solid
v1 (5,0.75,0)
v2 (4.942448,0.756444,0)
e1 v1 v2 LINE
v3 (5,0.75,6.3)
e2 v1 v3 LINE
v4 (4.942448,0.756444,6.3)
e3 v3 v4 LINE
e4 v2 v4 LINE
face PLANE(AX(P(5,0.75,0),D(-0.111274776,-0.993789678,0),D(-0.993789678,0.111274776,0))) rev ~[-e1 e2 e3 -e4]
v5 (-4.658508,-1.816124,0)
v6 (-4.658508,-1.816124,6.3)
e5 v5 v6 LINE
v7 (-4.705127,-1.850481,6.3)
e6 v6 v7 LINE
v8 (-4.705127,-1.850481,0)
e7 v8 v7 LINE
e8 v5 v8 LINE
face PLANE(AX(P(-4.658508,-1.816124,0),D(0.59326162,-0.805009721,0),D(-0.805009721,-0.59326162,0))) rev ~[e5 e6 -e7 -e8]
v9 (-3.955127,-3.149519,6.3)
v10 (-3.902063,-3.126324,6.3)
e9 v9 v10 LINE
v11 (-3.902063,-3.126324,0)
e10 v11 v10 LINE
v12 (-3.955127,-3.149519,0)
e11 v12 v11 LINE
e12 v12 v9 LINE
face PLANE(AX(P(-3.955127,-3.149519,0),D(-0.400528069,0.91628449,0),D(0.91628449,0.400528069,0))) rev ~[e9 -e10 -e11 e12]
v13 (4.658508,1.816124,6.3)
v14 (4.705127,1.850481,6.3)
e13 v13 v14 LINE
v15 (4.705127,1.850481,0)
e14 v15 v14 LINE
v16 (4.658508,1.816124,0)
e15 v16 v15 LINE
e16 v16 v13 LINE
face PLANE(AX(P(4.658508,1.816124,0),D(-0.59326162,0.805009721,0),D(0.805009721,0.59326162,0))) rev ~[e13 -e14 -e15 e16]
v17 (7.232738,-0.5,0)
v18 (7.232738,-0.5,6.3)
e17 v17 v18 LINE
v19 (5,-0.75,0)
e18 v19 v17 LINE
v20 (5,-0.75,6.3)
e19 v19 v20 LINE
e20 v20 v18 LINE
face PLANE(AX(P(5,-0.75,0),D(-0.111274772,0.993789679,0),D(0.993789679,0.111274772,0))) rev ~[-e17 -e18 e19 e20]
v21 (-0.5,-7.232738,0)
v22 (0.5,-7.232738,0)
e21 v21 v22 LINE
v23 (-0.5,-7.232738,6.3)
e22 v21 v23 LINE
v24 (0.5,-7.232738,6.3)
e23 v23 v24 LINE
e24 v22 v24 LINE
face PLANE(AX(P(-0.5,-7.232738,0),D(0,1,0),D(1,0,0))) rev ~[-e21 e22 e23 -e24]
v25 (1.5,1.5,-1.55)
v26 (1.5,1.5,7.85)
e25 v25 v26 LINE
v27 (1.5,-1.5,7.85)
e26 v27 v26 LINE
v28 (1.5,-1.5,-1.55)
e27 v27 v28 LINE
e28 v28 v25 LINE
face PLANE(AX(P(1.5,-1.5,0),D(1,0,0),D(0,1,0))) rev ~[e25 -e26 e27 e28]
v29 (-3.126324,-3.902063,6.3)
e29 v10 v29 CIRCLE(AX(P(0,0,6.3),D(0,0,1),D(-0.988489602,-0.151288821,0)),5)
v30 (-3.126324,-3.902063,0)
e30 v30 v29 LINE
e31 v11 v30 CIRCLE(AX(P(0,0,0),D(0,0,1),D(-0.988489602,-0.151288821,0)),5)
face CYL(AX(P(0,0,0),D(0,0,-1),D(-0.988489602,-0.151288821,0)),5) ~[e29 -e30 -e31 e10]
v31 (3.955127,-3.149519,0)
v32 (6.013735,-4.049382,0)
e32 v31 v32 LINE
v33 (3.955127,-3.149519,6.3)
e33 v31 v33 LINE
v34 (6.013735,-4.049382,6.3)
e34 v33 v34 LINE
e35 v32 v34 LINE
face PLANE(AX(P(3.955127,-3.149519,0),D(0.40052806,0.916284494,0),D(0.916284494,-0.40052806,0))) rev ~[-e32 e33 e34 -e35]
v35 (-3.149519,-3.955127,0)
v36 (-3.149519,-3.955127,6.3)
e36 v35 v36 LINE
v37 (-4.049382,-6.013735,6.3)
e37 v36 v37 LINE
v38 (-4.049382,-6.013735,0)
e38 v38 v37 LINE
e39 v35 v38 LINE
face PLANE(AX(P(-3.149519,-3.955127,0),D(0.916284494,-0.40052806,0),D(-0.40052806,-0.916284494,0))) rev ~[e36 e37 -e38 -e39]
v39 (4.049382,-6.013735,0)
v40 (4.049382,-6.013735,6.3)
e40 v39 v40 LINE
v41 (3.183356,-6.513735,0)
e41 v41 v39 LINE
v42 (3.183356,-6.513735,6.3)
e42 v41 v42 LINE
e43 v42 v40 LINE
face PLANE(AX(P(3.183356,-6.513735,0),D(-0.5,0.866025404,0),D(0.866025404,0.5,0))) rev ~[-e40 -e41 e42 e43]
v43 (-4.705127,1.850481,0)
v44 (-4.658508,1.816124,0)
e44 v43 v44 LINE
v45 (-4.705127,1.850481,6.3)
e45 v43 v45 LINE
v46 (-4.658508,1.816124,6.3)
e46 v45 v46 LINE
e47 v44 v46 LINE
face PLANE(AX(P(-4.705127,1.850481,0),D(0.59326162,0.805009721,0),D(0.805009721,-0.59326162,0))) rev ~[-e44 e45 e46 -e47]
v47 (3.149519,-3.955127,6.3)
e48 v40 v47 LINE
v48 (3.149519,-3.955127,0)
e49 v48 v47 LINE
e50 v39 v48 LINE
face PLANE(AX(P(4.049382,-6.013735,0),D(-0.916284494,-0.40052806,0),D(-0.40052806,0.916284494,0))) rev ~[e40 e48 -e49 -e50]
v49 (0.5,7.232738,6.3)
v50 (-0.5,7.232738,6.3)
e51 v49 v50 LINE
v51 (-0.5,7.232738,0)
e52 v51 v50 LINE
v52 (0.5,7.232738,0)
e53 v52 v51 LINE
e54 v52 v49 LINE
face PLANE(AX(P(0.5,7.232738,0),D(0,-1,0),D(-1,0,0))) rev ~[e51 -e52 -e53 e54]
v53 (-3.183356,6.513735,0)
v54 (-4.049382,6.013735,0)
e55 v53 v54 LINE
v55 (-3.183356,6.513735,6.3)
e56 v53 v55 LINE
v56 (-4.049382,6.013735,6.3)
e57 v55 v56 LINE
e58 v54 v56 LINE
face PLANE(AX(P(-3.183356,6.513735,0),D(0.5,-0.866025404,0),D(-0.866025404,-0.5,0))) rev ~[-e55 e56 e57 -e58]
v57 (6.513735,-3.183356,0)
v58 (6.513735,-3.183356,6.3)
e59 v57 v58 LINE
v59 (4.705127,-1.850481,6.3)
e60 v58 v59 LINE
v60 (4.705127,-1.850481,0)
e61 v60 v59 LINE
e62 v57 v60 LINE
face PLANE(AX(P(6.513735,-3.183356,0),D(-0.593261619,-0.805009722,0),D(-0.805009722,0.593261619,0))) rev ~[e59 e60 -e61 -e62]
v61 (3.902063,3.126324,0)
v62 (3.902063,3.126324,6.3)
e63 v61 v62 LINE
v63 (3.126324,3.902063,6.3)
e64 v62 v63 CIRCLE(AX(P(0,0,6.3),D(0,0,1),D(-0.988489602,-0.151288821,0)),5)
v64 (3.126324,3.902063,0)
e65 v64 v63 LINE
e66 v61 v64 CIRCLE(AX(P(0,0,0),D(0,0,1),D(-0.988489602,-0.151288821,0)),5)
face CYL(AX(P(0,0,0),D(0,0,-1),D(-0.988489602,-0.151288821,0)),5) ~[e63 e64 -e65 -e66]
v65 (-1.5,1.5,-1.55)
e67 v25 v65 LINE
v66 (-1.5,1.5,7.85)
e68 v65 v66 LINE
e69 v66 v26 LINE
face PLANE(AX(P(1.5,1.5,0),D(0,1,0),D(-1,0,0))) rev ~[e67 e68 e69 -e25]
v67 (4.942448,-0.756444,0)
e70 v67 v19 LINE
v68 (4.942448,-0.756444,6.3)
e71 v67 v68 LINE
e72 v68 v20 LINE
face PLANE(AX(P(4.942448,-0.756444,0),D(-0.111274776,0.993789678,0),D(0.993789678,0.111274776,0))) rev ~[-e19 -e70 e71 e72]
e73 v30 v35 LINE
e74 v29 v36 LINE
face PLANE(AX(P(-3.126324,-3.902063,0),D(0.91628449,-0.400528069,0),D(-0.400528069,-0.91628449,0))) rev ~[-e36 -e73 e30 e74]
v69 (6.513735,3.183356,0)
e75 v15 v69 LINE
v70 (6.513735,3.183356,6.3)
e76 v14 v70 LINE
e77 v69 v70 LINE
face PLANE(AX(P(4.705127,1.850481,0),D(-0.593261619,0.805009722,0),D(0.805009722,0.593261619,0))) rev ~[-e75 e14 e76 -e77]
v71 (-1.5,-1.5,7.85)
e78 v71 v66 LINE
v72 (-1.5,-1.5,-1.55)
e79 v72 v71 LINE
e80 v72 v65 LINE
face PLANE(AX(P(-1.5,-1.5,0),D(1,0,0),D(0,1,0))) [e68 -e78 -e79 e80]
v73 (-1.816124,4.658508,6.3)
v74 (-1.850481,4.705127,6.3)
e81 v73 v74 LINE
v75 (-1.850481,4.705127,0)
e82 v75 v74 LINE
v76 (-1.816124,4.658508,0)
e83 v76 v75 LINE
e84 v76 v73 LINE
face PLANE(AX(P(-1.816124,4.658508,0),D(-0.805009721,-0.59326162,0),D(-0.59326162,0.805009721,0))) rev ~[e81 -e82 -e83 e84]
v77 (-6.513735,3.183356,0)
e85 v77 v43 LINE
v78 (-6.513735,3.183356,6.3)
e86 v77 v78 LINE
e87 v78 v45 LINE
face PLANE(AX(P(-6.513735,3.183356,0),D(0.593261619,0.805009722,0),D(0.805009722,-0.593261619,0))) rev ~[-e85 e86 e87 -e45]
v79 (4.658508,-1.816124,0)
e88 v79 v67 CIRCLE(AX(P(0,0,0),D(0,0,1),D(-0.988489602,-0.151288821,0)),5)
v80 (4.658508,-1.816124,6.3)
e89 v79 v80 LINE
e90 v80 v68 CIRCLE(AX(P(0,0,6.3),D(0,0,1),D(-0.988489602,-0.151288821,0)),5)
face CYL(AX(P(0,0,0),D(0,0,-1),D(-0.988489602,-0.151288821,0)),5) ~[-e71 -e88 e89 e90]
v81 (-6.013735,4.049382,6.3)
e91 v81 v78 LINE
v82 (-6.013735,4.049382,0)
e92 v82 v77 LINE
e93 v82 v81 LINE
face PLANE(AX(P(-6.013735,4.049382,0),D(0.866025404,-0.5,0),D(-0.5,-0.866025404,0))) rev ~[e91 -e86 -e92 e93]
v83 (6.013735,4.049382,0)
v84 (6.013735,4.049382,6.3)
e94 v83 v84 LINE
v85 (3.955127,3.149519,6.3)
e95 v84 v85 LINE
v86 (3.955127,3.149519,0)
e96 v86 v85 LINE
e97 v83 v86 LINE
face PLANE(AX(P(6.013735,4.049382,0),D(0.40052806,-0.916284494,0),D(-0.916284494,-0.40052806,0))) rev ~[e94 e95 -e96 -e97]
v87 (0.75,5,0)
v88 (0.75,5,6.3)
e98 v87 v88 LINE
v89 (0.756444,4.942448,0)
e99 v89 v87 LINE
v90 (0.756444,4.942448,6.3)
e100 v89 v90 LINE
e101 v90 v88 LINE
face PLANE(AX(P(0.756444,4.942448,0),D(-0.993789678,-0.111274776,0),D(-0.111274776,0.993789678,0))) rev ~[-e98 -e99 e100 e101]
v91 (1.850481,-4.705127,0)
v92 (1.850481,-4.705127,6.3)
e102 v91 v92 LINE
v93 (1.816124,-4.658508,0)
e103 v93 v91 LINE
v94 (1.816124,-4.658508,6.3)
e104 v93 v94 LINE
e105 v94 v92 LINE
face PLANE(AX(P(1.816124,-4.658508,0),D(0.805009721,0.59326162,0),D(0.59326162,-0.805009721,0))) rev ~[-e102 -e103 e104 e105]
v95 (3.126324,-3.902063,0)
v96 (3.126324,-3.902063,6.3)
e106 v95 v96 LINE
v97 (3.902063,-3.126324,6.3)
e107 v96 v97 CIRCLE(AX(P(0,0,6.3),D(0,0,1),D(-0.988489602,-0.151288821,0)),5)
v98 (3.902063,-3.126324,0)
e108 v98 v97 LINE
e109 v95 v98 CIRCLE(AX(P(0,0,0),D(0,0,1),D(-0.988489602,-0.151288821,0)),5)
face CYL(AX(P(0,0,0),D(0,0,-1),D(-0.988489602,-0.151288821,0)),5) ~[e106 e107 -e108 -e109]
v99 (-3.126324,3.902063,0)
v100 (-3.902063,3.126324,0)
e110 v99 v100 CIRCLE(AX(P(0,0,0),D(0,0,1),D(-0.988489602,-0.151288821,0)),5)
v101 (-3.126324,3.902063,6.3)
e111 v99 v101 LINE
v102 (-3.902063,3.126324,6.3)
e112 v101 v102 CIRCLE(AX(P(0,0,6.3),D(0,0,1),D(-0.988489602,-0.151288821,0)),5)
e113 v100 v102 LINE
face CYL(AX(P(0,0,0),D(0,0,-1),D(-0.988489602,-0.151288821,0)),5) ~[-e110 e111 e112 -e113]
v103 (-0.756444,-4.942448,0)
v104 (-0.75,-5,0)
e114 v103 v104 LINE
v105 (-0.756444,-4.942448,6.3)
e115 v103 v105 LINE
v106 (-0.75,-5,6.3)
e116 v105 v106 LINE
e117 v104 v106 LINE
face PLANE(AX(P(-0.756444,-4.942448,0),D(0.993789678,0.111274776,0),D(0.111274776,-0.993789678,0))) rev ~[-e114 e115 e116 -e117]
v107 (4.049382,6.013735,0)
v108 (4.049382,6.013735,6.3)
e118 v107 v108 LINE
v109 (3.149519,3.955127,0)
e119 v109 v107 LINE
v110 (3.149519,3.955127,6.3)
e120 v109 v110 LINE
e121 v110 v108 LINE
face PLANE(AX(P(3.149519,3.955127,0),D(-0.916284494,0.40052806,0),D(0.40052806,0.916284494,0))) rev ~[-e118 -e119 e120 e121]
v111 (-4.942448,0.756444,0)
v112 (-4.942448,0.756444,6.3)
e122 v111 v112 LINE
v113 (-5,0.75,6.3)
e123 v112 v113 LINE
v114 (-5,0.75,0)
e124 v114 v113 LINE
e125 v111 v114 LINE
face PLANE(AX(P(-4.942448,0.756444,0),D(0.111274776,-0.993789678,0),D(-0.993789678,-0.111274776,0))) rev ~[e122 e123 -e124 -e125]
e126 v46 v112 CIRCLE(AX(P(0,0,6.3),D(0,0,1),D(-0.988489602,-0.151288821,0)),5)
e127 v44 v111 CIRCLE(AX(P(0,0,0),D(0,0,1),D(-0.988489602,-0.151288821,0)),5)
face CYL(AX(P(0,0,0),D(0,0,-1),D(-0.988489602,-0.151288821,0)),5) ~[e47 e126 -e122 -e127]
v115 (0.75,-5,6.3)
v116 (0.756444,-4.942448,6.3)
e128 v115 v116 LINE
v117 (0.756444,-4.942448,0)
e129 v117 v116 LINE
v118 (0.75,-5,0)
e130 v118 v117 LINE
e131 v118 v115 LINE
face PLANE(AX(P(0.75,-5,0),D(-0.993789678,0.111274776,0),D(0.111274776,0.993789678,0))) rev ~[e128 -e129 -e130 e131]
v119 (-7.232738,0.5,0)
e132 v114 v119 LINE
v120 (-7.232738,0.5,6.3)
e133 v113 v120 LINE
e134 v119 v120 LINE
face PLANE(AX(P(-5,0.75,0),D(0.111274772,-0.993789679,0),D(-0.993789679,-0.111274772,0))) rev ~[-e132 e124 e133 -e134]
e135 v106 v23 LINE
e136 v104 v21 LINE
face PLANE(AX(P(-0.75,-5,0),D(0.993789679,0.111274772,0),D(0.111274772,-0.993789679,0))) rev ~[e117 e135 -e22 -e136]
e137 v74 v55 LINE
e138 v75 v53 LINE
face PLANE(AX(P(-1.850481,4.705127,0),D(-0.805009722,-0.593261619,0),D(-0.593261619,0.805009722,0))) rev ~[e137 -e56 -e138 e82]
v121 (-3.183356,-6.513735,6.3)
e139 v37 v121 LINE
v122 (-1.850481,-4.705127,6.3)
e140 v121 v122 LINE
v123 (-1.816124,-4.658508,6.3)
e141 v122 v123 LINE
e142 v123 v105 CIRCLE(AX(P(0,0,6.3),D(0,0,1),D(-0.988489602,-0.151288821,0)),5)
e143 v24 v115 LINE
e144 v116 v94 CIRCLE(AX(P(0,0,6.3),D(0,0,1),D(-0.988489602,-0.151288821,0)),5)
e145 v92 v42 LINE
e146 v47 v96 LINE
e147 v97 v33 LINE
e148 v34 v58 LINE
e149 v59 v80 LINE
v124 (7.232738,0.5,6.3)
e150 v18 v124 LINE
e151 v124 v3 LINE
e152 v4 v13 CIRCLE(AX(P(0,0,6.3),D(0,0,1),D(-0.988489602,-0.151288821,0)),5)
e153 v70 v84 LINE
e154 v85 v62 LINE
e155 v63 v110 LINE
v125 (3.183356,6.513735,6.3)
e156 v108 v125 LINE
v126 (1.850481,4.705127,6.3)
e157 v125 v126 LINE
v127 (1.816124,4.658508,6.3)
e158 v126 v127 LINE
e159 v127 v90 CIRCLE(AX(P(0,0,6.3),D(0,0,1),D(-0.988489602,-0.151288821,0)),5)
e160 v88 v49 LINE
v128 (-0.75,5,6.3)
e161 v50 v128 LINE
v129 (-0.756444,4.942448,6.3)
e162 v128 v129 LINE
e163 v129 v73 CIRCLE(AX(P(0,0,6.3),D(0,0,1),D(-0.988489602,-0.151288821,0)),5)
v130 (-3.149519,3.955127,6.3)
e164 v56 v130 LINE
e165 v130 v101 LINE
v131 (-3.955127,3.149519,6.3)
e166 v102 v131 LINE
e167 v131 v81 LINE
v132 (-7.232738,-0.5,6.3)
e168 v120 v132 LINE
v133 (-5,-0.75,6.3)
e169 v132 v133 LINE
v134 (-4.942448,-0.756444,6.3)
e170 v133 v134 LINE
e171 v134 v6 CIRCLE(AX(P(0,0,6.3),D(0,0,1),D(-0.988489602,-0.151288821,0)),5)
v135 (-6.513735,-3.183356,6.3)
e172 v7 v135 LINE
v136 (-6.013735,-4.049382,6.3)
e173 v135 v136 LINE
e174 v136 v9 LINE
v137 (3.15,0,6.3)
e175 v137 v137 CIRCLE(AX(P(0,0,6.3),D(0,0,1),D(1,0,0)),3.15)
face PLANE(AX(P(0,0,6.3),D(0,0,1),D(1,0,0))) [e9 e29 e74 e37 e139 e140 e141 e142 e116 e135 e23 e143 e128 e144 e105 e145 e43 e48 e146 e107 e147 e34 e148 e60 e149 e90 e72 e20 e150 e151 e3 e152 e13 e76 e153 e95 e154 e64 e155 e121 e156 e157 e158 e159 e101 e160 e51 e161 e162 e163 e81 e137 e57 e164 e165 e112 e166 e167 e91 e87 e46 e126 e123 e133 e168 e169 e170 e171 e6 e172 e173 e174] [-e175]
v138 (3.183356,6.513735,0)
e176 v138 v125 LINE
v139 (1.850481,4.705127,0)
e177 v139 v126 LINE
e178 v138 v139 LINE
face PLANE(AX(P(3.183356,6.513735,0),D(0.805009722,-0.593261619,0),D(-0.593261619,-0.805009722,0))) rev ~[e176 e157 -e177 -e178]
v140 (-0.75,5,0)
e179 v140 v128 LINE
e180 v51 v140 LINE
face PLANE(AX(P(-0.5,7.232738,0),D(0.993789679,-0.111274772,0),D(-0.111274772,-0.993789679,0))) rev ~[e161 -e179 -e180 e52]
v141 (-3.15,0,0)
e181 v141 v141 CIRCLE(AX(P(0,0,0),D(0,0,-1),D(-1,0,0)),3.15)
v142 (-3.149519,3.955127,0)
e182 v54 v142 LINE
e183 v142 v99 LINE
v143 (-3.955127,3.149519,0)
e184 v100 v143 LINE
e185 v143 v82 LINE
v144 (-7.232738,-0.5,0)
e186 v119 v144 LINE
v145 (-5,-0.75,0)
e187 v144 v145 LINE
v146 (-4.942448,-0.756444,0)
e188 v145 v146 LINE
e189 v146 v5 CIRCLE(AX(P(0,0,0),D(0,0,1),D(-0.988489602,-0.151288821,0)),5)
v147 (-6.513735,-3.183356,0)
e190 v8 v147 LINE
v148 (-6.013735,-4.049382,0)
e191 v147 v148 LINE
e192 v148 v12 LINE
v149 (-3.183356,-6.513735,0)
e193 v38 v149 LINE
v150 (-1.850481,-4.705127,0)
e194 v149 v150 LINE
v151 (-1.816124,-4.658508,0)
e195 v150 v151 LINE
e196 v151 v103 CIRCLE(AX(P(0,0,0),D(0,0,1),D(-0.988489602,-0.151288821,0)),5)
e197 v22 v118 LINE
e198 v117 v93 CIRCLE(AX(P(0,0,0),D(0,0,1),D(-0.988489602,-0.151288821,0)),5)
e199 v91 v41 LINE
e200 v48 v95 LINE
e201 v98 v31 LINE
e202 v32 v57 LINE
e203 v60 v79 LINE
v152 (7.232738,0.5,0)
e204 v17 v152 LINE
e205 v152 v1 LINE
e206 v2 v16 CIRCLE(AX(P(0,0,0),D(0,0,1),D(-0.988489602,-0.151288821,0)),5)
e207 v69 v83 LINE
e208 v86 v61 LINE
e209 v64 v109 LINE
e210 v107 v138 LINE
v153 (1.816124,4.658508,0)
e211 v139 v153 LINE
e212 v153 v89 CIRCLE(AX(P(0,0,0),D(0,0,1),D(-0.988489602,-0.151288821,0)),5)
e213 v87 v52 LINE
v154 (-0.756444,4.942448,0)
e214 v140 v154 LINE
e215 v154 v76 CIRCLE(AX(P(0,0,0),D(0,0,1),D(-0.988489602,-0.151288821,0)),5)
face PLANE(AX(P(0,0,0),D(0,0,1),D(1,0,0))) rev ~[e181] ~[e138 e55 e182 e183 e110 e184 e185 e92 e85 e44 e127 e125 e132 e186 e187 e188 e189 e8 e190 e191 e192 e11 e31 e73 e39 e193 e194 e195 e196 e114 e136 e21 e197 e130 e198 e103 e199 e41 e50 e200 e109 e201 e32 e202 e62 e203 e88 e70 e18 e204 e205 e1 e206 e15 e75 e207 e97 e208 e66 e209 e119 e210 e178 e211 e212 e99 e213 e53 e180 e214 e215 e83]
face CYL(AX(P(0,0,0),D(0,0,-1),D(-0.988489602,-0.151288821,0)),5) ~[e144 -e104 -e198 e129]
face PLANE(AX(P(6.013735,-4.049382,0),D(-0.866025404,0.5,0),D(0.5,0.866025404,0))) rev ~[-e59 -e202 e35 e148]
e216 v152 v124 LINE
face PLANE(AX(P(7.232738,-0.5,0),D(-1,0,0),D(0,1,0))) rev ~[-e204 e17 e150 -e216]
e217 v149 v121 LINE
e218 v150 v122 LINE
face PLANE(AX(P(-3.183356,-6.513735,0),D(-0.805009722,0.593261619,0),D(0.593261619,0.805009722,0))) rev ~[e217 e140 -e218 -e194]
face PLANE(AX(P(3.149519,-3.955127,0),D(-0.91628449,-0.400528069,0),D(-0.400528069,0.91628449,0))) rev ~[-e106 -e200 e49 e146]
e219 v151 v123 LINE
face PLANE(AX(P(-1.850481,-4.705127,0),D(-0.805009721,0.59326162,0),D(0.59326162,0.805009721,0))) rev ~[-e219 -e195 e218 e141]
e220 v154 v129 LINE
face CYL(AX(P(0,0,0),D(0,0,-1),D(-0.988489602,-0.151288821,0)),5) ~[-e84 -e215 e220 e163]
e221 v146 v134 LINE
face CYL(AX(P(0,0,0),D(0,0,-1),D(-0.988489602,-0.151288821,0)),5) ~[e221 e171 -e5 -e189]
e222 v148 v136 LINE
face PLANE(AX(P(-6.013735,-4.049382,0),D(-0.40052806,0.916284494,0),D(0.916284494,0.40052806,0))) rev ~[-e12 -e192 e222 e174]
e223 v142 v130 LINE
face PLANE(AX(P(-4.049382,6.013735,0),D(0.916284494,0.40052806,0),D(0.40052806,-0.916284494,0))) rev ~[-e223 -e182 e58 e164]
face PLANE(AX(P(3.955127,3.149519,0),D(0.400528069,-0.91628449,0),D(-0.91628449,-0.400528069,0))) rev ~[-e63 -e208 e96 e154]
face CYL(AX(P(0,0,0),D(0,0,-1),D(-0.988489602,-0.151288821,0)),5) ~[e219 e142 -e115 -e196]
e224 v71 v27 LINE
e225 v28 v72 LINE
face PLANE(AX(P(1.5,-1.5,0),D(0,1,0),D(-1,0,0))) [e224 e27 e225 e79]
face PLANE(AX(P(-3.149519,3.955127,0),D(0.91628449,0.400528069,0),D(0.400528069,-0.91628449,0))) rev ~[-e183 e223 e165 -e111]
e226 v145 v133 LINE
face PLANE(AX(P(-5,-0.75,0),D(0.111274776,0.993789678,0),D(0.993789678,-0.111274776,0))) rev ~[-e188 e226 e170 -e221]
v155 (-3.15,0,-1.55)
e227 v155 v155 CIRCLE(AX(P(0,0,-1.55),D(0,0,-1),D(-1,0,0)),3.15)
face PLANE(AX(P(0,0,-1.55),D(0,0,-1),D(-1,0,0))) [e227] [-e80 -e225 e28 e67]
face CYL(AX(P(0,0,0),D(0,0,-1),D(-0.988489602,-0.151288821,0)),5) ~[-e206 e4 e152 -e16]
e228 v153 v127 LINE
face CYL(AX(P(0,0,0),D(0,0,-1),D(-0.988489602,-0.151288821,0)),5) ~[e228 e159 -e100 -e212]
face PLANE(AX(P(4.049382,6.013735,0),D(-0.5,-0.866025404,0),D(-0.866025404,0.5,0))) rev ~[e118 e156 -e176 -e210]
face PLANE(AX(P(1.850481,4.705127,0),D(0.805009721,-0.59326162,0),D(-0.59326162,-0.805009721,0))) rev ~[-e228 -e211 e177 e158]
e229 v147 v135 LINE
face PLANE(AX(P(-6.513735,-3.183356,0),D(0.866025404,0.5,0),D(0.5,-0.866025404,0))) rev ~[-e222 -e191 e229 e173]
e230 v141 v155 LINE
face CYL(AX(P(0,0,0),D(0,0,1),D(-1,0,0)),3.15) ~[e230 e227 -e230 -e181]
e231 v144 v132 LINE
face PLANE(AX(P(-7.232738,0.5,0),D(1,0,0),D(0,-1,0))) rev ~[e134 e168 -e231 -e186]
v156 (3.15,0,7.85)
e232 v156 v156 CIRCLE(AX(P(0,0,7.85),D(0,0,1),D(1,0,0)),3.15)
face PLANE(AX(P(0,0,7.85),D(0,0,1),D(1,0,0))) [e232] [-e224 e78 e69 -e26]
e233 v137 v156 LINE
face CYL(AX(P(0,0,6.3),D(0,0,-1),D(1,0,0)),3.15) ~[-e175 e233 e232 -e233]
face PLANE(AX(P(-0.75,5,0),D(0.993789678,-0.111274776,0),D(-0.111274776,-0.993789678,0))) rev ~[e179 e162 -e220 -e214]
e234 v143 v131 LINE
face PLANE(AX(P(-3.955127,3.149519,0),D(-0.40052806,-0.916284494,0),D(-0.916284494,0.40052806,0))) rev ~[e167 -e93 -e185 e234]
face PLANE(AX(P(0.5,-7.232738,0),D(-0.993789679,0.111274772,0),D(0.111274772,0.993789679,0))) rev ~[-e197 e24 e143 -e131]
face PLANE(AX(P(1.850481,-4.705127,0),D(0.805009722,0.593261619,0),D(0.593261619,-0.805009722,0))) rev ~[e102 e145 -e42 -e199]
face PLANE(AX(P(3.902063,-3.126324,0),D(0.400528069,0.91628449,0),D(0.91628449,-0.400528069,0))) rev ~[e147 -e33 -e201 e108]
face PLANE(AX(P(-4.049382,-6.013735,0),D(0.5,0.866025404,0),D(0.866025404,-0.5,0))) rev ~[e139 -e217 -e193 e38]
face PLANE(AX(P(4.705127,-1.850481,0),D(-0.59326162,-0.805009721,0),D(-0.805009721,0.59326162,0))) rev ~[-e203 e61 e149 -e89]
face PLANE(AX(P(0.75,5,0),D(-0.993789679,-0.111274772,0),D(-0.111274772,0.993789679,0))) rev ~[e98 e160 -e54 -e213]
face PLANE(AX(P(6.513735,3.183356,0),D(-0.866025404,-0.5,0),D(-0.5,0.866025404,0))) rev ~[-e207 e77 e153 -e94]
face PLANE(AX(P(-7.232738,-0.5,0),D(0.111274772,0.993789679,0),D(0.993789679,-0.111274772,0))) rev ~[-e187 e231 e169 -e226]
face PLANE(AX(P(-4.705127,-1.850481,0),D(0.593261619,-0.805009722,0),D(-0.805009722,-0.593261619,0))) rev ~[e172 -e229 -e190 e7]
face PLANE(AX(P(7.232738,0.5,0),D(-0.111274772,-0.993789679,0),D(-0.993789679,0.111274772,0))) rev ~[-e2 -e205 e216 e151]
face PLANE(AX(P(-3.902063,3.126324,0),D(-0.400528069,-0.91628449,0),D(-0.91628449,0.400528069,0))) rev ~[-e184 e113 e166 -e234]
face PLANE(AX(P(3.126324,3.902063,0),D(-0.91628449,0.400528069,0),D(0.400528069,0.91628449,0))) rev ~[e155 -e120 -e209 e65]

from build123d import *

# Parameters (mm, degrees)
SKETCH1_R           = 5
SKETCH1_W           = 3
SKETCH1_H           = 3
BOSS_EXTRUDE1_DEPTH = 6.3
SKETCH2_R           = 3.15
SKETCH2_W           = 3
SKETCH2_H           = 3
BOSS_EXTRUDE2_DEPTH = 1.55
SKETCH3_R           = 3.15
SKETCH3_W           = 3
SKETCH3_H           = 3
BOSS_EXTRUDE3_DEPTH = 1.55


with BuildPart() as part:
    # Sketch1 → Boss-Extrude1 (new body)
    with BuildSketch(Plane.XY):
        Circle(SKETCH1_R)
        Rectangle(SKETCH1_W, SKETCH1_H, mode=Mode.SUBTRACT)
        with BuildLine():
            ThreePointArc((-4.942448008, -0.756444105), (-5, 0), (-4.942448008, 0.756444105))
            Line((-4.942448008, 0.756444105), (-5, 0.75))
            Line((-5, 0.75), (-7.232738071, 0.5))
            Line((-7.232738071, 0.5), (-7.232738071, -0.5))
            Line((-7.232738071, -0.5), (-5, -0.75))
            Line((-5, -0.75), (-4.942448008, -0.756444105))
        make_face()
        with BuildLine():
            ThreePointArc((-4.658507585, 1.816124193), (-4.330127019, 2.5), (-3.90206348, 3.126323815))
            Line((-3.90206348, 3.126323815), (-3.955127019, 3.149519053))
            Line((-3.955127019, 3.149519053), (-6.013734908, 4.049381737))
            Line((-6.013734908, 4.049381737), (-6.513734908, 3.183356333))
            Line((-6.513734908, 3.183356333), (-4.705127019, 1.850480947))
            Line((-4.705127019, 1.850480947), (-4.658507585, 1.816124193))
        make_face()
        with BuildLine():
            ThreePointArc((-3.126323815, 3.90206348), (-2.5, 4.330127019), (-1.816124193, 4.658507585))
            Line((-1.816124193, 4.658507585), (-1.850480947, 4.705127019))
            Line((-1.850480947, 4.705127019), (-3.183356333, 6.513734908))
            Line((-3.183356333, 6.513734908), (-4.049381737, 6.013734908))
            Line((-4.049381737, 6.013734908), (-3.149519053, 3.955127019))
            Line((-3.149519053, 3.955127019), (-3.126323815, 3.90206348))
        make_face()
        with BuildLine():
            Line((0.5, 7.232738071), (-0.5, 7.232738071))
            Line((-0.5, 7.232738071), (-0.75, 5))
            Line((-0.75, 5), (-0.756444105, 4.942448008))
            ThreePointArc((-0.756444105, 4.942448008), (0, 5), (0.756444105, 4.942448008))
            Line((0.756444105, 4.942448008), (0.75, 5))
            Line((0.75, 5), (0.5, 7.232738071))
        make_face()
        with BuildLine():
            Line((1.850480947, 4.705127019), (1.816124193, 4.658507585))
            ThreePointArc((1.816124193, 4.658507585), (2.5, 4.330127019), (3.126323815, 3.90206348))
            Line((3.126323815, 3.90206348), (3.149519053, 3.955127019))
            Line((3.149519053, 3.955127019), (4.049381737, 6.013734908))
            Line((4.049381737, 6.013734908), (3.183356333, 6.513734908))
            Line((3.183356333, 6.513734908), (1.850480947, 4.705127019))
        make_face()
        with BuildLine():
            Line((3.955127019, 3.149519053), (3.90206348, 3.126323815))
            ThreePointArc((3.90206348, 3.126323815), (4.330127019, 2.5), (4.658507585, 1.816124193))
            Line((4.658507585, 1.816124193), (4.705127019, 1.850480947))
            Line((4.705127019, 1.850480947), (6.513734908, 3.183356333))
            Line((6.513734908, 3.183356333), (6.013734908, 4.049381737))
            Line((6.013734908, 4.049381737), (3.955127019, 3.149519053))
        make_face()
        with BuildLine():
            Line((5, 0.75), (4.942448008, 0.756444105))
            ThreePointArc((4.942448008, 0.756444105), (4.985591241, 0.379315144), (5, 0))
            ThreePointArc((5, 0), (4.985591241, -0.379315144), (4.942448008, -0.756444105))
            Line((4.942448008, -0.756444105), (5, -0.75))
            Line((5, -0.75), (7.232738071, -0.5))
            Line((7.232738071, -0.5), (7.232738071, 0.5))
            Line((7.232738071, 0.5), (5, 0.75))
        make_face()
        with BuildLine():
            Line((4.705127019, -1.850480947), (4.658507585, -1.816124193))
            ThreePointArc((4.658507585, -1.816124193), (4.330127019, -2.5), (3.90206348, -3.126323815))
            Line((3.90206348, -3.126323815), (3.955127019, -3.149519053))
            Line((3.955127019, -3.149519053), (6.013734908, -4.049381737))
            Line((6.013734908, -4.049381737), (6.513734908, -3.183356333))
            Line((6.513734908, -3.183356333), (4.705127019, -1.850480947))
        make_face()
        with BuildLine():
            Line((3.149519053, -3.955127019), (3.126323815, -3.90206348))
            ThreePointArc((3.126323815, -3.90206348), (2.5, -4.330127019), (1.816124193, -4.658507585))
            Line((1.816124193, -4.658507585), (1.850480947, -4.705127019))
            Line((1.850480947, -4.705127019), (3.183356333, -6.513734908))
            Line((3.183356333, -6.513734908), (4.049381737, -6.013734908))
            Line((4.049381737, -6.013734908), (3.149519053, -3.955127019))
        make_face()
        with BuildLine():
            ThreePointArc((0.756444105, -4.942448008), (0, -5), (-0.756444105, -4.942448008))
            Line((-0.756444105, -4.942448008), (-0.75, -5))
            Line((-0.75, -5), (-0.5, -7.232738071))
            Line((-0.5, -7.232738071), (0.5, -7.232738071))
            Line((0.5, -7.232738071), (0.75, -5))
            Line((0.75, -5), (0.756444105, -4.942448008))
        make_face()
        with BuildLine():
            ThreePointArc((-1.816124193, -4.658507585), (-2.5, -4.330127019), (-3.126323815, -3.90206348))
            Line((-3.126323815, -3.90206348), (-3.149519053, -3.955127019))
            Line((-3.149519053, -3.955127019), (-4.049381737, -6.013734908))
            Line((-4.049381737, -6.013734908), (-3.183356333, -6.513734908))
            Line((-3.183356333, -6.513734908), (-1.850480947, -4.705127019))
            Line((-1.850480947, -4.705127019), (-1.816124193, -4.658507585))
        make_face()
        with BuildLine():
            ThreePointArc((-3.90206348, -3.126323815), (-4.330127019, -2.5), (-4.658507585, -1.816124193))
            Line((-4.658507585, -1.816124193), (-4.705127019, -1.850480947))
            Line((-4.705127019, -1.850480947), (-6.513734908, -3.183356333))
            Line((-6.513734908, -3.183356333), (-6.013734908, -4.049381737))
            Line((-6.013734908, -4.049381737), (-3.955127019, -3.149519053))
            Line((-3.955127019, -3.149519053), (-3.90206348, -3.126323815))
        make_face()
    extrude(amount=BOSS_EXTRUDE1_DEPTH)

    # Sketch2 → Boss-Extrude2 (add)
    with BuildSketch(Plane.XY.offset(6.3)):
        Circle(SKETCH2_R)
        Rectangle(SKETCH2_W, SKETCH2_H, mode=Mode.SUBTRACT)
    extrude(amount=BOSS_EXTRUDE2_DEPTH)

    # Sketch3 → Boss-Extrude3 (add)
    with BuildSketch(Plane(origin=(0, 0, 0), x_dir=(-1, 0, 0), z_dir=(0, 0, -1))):
        Circle(SKETCH3_R)
        Rectangle(SKETCH3_W, SKETCH3_H, mode=Mode.SUBTRACT)
    extrude(amount=BOSS_EXTRUDE3_DEPTH)


solid = part.part
